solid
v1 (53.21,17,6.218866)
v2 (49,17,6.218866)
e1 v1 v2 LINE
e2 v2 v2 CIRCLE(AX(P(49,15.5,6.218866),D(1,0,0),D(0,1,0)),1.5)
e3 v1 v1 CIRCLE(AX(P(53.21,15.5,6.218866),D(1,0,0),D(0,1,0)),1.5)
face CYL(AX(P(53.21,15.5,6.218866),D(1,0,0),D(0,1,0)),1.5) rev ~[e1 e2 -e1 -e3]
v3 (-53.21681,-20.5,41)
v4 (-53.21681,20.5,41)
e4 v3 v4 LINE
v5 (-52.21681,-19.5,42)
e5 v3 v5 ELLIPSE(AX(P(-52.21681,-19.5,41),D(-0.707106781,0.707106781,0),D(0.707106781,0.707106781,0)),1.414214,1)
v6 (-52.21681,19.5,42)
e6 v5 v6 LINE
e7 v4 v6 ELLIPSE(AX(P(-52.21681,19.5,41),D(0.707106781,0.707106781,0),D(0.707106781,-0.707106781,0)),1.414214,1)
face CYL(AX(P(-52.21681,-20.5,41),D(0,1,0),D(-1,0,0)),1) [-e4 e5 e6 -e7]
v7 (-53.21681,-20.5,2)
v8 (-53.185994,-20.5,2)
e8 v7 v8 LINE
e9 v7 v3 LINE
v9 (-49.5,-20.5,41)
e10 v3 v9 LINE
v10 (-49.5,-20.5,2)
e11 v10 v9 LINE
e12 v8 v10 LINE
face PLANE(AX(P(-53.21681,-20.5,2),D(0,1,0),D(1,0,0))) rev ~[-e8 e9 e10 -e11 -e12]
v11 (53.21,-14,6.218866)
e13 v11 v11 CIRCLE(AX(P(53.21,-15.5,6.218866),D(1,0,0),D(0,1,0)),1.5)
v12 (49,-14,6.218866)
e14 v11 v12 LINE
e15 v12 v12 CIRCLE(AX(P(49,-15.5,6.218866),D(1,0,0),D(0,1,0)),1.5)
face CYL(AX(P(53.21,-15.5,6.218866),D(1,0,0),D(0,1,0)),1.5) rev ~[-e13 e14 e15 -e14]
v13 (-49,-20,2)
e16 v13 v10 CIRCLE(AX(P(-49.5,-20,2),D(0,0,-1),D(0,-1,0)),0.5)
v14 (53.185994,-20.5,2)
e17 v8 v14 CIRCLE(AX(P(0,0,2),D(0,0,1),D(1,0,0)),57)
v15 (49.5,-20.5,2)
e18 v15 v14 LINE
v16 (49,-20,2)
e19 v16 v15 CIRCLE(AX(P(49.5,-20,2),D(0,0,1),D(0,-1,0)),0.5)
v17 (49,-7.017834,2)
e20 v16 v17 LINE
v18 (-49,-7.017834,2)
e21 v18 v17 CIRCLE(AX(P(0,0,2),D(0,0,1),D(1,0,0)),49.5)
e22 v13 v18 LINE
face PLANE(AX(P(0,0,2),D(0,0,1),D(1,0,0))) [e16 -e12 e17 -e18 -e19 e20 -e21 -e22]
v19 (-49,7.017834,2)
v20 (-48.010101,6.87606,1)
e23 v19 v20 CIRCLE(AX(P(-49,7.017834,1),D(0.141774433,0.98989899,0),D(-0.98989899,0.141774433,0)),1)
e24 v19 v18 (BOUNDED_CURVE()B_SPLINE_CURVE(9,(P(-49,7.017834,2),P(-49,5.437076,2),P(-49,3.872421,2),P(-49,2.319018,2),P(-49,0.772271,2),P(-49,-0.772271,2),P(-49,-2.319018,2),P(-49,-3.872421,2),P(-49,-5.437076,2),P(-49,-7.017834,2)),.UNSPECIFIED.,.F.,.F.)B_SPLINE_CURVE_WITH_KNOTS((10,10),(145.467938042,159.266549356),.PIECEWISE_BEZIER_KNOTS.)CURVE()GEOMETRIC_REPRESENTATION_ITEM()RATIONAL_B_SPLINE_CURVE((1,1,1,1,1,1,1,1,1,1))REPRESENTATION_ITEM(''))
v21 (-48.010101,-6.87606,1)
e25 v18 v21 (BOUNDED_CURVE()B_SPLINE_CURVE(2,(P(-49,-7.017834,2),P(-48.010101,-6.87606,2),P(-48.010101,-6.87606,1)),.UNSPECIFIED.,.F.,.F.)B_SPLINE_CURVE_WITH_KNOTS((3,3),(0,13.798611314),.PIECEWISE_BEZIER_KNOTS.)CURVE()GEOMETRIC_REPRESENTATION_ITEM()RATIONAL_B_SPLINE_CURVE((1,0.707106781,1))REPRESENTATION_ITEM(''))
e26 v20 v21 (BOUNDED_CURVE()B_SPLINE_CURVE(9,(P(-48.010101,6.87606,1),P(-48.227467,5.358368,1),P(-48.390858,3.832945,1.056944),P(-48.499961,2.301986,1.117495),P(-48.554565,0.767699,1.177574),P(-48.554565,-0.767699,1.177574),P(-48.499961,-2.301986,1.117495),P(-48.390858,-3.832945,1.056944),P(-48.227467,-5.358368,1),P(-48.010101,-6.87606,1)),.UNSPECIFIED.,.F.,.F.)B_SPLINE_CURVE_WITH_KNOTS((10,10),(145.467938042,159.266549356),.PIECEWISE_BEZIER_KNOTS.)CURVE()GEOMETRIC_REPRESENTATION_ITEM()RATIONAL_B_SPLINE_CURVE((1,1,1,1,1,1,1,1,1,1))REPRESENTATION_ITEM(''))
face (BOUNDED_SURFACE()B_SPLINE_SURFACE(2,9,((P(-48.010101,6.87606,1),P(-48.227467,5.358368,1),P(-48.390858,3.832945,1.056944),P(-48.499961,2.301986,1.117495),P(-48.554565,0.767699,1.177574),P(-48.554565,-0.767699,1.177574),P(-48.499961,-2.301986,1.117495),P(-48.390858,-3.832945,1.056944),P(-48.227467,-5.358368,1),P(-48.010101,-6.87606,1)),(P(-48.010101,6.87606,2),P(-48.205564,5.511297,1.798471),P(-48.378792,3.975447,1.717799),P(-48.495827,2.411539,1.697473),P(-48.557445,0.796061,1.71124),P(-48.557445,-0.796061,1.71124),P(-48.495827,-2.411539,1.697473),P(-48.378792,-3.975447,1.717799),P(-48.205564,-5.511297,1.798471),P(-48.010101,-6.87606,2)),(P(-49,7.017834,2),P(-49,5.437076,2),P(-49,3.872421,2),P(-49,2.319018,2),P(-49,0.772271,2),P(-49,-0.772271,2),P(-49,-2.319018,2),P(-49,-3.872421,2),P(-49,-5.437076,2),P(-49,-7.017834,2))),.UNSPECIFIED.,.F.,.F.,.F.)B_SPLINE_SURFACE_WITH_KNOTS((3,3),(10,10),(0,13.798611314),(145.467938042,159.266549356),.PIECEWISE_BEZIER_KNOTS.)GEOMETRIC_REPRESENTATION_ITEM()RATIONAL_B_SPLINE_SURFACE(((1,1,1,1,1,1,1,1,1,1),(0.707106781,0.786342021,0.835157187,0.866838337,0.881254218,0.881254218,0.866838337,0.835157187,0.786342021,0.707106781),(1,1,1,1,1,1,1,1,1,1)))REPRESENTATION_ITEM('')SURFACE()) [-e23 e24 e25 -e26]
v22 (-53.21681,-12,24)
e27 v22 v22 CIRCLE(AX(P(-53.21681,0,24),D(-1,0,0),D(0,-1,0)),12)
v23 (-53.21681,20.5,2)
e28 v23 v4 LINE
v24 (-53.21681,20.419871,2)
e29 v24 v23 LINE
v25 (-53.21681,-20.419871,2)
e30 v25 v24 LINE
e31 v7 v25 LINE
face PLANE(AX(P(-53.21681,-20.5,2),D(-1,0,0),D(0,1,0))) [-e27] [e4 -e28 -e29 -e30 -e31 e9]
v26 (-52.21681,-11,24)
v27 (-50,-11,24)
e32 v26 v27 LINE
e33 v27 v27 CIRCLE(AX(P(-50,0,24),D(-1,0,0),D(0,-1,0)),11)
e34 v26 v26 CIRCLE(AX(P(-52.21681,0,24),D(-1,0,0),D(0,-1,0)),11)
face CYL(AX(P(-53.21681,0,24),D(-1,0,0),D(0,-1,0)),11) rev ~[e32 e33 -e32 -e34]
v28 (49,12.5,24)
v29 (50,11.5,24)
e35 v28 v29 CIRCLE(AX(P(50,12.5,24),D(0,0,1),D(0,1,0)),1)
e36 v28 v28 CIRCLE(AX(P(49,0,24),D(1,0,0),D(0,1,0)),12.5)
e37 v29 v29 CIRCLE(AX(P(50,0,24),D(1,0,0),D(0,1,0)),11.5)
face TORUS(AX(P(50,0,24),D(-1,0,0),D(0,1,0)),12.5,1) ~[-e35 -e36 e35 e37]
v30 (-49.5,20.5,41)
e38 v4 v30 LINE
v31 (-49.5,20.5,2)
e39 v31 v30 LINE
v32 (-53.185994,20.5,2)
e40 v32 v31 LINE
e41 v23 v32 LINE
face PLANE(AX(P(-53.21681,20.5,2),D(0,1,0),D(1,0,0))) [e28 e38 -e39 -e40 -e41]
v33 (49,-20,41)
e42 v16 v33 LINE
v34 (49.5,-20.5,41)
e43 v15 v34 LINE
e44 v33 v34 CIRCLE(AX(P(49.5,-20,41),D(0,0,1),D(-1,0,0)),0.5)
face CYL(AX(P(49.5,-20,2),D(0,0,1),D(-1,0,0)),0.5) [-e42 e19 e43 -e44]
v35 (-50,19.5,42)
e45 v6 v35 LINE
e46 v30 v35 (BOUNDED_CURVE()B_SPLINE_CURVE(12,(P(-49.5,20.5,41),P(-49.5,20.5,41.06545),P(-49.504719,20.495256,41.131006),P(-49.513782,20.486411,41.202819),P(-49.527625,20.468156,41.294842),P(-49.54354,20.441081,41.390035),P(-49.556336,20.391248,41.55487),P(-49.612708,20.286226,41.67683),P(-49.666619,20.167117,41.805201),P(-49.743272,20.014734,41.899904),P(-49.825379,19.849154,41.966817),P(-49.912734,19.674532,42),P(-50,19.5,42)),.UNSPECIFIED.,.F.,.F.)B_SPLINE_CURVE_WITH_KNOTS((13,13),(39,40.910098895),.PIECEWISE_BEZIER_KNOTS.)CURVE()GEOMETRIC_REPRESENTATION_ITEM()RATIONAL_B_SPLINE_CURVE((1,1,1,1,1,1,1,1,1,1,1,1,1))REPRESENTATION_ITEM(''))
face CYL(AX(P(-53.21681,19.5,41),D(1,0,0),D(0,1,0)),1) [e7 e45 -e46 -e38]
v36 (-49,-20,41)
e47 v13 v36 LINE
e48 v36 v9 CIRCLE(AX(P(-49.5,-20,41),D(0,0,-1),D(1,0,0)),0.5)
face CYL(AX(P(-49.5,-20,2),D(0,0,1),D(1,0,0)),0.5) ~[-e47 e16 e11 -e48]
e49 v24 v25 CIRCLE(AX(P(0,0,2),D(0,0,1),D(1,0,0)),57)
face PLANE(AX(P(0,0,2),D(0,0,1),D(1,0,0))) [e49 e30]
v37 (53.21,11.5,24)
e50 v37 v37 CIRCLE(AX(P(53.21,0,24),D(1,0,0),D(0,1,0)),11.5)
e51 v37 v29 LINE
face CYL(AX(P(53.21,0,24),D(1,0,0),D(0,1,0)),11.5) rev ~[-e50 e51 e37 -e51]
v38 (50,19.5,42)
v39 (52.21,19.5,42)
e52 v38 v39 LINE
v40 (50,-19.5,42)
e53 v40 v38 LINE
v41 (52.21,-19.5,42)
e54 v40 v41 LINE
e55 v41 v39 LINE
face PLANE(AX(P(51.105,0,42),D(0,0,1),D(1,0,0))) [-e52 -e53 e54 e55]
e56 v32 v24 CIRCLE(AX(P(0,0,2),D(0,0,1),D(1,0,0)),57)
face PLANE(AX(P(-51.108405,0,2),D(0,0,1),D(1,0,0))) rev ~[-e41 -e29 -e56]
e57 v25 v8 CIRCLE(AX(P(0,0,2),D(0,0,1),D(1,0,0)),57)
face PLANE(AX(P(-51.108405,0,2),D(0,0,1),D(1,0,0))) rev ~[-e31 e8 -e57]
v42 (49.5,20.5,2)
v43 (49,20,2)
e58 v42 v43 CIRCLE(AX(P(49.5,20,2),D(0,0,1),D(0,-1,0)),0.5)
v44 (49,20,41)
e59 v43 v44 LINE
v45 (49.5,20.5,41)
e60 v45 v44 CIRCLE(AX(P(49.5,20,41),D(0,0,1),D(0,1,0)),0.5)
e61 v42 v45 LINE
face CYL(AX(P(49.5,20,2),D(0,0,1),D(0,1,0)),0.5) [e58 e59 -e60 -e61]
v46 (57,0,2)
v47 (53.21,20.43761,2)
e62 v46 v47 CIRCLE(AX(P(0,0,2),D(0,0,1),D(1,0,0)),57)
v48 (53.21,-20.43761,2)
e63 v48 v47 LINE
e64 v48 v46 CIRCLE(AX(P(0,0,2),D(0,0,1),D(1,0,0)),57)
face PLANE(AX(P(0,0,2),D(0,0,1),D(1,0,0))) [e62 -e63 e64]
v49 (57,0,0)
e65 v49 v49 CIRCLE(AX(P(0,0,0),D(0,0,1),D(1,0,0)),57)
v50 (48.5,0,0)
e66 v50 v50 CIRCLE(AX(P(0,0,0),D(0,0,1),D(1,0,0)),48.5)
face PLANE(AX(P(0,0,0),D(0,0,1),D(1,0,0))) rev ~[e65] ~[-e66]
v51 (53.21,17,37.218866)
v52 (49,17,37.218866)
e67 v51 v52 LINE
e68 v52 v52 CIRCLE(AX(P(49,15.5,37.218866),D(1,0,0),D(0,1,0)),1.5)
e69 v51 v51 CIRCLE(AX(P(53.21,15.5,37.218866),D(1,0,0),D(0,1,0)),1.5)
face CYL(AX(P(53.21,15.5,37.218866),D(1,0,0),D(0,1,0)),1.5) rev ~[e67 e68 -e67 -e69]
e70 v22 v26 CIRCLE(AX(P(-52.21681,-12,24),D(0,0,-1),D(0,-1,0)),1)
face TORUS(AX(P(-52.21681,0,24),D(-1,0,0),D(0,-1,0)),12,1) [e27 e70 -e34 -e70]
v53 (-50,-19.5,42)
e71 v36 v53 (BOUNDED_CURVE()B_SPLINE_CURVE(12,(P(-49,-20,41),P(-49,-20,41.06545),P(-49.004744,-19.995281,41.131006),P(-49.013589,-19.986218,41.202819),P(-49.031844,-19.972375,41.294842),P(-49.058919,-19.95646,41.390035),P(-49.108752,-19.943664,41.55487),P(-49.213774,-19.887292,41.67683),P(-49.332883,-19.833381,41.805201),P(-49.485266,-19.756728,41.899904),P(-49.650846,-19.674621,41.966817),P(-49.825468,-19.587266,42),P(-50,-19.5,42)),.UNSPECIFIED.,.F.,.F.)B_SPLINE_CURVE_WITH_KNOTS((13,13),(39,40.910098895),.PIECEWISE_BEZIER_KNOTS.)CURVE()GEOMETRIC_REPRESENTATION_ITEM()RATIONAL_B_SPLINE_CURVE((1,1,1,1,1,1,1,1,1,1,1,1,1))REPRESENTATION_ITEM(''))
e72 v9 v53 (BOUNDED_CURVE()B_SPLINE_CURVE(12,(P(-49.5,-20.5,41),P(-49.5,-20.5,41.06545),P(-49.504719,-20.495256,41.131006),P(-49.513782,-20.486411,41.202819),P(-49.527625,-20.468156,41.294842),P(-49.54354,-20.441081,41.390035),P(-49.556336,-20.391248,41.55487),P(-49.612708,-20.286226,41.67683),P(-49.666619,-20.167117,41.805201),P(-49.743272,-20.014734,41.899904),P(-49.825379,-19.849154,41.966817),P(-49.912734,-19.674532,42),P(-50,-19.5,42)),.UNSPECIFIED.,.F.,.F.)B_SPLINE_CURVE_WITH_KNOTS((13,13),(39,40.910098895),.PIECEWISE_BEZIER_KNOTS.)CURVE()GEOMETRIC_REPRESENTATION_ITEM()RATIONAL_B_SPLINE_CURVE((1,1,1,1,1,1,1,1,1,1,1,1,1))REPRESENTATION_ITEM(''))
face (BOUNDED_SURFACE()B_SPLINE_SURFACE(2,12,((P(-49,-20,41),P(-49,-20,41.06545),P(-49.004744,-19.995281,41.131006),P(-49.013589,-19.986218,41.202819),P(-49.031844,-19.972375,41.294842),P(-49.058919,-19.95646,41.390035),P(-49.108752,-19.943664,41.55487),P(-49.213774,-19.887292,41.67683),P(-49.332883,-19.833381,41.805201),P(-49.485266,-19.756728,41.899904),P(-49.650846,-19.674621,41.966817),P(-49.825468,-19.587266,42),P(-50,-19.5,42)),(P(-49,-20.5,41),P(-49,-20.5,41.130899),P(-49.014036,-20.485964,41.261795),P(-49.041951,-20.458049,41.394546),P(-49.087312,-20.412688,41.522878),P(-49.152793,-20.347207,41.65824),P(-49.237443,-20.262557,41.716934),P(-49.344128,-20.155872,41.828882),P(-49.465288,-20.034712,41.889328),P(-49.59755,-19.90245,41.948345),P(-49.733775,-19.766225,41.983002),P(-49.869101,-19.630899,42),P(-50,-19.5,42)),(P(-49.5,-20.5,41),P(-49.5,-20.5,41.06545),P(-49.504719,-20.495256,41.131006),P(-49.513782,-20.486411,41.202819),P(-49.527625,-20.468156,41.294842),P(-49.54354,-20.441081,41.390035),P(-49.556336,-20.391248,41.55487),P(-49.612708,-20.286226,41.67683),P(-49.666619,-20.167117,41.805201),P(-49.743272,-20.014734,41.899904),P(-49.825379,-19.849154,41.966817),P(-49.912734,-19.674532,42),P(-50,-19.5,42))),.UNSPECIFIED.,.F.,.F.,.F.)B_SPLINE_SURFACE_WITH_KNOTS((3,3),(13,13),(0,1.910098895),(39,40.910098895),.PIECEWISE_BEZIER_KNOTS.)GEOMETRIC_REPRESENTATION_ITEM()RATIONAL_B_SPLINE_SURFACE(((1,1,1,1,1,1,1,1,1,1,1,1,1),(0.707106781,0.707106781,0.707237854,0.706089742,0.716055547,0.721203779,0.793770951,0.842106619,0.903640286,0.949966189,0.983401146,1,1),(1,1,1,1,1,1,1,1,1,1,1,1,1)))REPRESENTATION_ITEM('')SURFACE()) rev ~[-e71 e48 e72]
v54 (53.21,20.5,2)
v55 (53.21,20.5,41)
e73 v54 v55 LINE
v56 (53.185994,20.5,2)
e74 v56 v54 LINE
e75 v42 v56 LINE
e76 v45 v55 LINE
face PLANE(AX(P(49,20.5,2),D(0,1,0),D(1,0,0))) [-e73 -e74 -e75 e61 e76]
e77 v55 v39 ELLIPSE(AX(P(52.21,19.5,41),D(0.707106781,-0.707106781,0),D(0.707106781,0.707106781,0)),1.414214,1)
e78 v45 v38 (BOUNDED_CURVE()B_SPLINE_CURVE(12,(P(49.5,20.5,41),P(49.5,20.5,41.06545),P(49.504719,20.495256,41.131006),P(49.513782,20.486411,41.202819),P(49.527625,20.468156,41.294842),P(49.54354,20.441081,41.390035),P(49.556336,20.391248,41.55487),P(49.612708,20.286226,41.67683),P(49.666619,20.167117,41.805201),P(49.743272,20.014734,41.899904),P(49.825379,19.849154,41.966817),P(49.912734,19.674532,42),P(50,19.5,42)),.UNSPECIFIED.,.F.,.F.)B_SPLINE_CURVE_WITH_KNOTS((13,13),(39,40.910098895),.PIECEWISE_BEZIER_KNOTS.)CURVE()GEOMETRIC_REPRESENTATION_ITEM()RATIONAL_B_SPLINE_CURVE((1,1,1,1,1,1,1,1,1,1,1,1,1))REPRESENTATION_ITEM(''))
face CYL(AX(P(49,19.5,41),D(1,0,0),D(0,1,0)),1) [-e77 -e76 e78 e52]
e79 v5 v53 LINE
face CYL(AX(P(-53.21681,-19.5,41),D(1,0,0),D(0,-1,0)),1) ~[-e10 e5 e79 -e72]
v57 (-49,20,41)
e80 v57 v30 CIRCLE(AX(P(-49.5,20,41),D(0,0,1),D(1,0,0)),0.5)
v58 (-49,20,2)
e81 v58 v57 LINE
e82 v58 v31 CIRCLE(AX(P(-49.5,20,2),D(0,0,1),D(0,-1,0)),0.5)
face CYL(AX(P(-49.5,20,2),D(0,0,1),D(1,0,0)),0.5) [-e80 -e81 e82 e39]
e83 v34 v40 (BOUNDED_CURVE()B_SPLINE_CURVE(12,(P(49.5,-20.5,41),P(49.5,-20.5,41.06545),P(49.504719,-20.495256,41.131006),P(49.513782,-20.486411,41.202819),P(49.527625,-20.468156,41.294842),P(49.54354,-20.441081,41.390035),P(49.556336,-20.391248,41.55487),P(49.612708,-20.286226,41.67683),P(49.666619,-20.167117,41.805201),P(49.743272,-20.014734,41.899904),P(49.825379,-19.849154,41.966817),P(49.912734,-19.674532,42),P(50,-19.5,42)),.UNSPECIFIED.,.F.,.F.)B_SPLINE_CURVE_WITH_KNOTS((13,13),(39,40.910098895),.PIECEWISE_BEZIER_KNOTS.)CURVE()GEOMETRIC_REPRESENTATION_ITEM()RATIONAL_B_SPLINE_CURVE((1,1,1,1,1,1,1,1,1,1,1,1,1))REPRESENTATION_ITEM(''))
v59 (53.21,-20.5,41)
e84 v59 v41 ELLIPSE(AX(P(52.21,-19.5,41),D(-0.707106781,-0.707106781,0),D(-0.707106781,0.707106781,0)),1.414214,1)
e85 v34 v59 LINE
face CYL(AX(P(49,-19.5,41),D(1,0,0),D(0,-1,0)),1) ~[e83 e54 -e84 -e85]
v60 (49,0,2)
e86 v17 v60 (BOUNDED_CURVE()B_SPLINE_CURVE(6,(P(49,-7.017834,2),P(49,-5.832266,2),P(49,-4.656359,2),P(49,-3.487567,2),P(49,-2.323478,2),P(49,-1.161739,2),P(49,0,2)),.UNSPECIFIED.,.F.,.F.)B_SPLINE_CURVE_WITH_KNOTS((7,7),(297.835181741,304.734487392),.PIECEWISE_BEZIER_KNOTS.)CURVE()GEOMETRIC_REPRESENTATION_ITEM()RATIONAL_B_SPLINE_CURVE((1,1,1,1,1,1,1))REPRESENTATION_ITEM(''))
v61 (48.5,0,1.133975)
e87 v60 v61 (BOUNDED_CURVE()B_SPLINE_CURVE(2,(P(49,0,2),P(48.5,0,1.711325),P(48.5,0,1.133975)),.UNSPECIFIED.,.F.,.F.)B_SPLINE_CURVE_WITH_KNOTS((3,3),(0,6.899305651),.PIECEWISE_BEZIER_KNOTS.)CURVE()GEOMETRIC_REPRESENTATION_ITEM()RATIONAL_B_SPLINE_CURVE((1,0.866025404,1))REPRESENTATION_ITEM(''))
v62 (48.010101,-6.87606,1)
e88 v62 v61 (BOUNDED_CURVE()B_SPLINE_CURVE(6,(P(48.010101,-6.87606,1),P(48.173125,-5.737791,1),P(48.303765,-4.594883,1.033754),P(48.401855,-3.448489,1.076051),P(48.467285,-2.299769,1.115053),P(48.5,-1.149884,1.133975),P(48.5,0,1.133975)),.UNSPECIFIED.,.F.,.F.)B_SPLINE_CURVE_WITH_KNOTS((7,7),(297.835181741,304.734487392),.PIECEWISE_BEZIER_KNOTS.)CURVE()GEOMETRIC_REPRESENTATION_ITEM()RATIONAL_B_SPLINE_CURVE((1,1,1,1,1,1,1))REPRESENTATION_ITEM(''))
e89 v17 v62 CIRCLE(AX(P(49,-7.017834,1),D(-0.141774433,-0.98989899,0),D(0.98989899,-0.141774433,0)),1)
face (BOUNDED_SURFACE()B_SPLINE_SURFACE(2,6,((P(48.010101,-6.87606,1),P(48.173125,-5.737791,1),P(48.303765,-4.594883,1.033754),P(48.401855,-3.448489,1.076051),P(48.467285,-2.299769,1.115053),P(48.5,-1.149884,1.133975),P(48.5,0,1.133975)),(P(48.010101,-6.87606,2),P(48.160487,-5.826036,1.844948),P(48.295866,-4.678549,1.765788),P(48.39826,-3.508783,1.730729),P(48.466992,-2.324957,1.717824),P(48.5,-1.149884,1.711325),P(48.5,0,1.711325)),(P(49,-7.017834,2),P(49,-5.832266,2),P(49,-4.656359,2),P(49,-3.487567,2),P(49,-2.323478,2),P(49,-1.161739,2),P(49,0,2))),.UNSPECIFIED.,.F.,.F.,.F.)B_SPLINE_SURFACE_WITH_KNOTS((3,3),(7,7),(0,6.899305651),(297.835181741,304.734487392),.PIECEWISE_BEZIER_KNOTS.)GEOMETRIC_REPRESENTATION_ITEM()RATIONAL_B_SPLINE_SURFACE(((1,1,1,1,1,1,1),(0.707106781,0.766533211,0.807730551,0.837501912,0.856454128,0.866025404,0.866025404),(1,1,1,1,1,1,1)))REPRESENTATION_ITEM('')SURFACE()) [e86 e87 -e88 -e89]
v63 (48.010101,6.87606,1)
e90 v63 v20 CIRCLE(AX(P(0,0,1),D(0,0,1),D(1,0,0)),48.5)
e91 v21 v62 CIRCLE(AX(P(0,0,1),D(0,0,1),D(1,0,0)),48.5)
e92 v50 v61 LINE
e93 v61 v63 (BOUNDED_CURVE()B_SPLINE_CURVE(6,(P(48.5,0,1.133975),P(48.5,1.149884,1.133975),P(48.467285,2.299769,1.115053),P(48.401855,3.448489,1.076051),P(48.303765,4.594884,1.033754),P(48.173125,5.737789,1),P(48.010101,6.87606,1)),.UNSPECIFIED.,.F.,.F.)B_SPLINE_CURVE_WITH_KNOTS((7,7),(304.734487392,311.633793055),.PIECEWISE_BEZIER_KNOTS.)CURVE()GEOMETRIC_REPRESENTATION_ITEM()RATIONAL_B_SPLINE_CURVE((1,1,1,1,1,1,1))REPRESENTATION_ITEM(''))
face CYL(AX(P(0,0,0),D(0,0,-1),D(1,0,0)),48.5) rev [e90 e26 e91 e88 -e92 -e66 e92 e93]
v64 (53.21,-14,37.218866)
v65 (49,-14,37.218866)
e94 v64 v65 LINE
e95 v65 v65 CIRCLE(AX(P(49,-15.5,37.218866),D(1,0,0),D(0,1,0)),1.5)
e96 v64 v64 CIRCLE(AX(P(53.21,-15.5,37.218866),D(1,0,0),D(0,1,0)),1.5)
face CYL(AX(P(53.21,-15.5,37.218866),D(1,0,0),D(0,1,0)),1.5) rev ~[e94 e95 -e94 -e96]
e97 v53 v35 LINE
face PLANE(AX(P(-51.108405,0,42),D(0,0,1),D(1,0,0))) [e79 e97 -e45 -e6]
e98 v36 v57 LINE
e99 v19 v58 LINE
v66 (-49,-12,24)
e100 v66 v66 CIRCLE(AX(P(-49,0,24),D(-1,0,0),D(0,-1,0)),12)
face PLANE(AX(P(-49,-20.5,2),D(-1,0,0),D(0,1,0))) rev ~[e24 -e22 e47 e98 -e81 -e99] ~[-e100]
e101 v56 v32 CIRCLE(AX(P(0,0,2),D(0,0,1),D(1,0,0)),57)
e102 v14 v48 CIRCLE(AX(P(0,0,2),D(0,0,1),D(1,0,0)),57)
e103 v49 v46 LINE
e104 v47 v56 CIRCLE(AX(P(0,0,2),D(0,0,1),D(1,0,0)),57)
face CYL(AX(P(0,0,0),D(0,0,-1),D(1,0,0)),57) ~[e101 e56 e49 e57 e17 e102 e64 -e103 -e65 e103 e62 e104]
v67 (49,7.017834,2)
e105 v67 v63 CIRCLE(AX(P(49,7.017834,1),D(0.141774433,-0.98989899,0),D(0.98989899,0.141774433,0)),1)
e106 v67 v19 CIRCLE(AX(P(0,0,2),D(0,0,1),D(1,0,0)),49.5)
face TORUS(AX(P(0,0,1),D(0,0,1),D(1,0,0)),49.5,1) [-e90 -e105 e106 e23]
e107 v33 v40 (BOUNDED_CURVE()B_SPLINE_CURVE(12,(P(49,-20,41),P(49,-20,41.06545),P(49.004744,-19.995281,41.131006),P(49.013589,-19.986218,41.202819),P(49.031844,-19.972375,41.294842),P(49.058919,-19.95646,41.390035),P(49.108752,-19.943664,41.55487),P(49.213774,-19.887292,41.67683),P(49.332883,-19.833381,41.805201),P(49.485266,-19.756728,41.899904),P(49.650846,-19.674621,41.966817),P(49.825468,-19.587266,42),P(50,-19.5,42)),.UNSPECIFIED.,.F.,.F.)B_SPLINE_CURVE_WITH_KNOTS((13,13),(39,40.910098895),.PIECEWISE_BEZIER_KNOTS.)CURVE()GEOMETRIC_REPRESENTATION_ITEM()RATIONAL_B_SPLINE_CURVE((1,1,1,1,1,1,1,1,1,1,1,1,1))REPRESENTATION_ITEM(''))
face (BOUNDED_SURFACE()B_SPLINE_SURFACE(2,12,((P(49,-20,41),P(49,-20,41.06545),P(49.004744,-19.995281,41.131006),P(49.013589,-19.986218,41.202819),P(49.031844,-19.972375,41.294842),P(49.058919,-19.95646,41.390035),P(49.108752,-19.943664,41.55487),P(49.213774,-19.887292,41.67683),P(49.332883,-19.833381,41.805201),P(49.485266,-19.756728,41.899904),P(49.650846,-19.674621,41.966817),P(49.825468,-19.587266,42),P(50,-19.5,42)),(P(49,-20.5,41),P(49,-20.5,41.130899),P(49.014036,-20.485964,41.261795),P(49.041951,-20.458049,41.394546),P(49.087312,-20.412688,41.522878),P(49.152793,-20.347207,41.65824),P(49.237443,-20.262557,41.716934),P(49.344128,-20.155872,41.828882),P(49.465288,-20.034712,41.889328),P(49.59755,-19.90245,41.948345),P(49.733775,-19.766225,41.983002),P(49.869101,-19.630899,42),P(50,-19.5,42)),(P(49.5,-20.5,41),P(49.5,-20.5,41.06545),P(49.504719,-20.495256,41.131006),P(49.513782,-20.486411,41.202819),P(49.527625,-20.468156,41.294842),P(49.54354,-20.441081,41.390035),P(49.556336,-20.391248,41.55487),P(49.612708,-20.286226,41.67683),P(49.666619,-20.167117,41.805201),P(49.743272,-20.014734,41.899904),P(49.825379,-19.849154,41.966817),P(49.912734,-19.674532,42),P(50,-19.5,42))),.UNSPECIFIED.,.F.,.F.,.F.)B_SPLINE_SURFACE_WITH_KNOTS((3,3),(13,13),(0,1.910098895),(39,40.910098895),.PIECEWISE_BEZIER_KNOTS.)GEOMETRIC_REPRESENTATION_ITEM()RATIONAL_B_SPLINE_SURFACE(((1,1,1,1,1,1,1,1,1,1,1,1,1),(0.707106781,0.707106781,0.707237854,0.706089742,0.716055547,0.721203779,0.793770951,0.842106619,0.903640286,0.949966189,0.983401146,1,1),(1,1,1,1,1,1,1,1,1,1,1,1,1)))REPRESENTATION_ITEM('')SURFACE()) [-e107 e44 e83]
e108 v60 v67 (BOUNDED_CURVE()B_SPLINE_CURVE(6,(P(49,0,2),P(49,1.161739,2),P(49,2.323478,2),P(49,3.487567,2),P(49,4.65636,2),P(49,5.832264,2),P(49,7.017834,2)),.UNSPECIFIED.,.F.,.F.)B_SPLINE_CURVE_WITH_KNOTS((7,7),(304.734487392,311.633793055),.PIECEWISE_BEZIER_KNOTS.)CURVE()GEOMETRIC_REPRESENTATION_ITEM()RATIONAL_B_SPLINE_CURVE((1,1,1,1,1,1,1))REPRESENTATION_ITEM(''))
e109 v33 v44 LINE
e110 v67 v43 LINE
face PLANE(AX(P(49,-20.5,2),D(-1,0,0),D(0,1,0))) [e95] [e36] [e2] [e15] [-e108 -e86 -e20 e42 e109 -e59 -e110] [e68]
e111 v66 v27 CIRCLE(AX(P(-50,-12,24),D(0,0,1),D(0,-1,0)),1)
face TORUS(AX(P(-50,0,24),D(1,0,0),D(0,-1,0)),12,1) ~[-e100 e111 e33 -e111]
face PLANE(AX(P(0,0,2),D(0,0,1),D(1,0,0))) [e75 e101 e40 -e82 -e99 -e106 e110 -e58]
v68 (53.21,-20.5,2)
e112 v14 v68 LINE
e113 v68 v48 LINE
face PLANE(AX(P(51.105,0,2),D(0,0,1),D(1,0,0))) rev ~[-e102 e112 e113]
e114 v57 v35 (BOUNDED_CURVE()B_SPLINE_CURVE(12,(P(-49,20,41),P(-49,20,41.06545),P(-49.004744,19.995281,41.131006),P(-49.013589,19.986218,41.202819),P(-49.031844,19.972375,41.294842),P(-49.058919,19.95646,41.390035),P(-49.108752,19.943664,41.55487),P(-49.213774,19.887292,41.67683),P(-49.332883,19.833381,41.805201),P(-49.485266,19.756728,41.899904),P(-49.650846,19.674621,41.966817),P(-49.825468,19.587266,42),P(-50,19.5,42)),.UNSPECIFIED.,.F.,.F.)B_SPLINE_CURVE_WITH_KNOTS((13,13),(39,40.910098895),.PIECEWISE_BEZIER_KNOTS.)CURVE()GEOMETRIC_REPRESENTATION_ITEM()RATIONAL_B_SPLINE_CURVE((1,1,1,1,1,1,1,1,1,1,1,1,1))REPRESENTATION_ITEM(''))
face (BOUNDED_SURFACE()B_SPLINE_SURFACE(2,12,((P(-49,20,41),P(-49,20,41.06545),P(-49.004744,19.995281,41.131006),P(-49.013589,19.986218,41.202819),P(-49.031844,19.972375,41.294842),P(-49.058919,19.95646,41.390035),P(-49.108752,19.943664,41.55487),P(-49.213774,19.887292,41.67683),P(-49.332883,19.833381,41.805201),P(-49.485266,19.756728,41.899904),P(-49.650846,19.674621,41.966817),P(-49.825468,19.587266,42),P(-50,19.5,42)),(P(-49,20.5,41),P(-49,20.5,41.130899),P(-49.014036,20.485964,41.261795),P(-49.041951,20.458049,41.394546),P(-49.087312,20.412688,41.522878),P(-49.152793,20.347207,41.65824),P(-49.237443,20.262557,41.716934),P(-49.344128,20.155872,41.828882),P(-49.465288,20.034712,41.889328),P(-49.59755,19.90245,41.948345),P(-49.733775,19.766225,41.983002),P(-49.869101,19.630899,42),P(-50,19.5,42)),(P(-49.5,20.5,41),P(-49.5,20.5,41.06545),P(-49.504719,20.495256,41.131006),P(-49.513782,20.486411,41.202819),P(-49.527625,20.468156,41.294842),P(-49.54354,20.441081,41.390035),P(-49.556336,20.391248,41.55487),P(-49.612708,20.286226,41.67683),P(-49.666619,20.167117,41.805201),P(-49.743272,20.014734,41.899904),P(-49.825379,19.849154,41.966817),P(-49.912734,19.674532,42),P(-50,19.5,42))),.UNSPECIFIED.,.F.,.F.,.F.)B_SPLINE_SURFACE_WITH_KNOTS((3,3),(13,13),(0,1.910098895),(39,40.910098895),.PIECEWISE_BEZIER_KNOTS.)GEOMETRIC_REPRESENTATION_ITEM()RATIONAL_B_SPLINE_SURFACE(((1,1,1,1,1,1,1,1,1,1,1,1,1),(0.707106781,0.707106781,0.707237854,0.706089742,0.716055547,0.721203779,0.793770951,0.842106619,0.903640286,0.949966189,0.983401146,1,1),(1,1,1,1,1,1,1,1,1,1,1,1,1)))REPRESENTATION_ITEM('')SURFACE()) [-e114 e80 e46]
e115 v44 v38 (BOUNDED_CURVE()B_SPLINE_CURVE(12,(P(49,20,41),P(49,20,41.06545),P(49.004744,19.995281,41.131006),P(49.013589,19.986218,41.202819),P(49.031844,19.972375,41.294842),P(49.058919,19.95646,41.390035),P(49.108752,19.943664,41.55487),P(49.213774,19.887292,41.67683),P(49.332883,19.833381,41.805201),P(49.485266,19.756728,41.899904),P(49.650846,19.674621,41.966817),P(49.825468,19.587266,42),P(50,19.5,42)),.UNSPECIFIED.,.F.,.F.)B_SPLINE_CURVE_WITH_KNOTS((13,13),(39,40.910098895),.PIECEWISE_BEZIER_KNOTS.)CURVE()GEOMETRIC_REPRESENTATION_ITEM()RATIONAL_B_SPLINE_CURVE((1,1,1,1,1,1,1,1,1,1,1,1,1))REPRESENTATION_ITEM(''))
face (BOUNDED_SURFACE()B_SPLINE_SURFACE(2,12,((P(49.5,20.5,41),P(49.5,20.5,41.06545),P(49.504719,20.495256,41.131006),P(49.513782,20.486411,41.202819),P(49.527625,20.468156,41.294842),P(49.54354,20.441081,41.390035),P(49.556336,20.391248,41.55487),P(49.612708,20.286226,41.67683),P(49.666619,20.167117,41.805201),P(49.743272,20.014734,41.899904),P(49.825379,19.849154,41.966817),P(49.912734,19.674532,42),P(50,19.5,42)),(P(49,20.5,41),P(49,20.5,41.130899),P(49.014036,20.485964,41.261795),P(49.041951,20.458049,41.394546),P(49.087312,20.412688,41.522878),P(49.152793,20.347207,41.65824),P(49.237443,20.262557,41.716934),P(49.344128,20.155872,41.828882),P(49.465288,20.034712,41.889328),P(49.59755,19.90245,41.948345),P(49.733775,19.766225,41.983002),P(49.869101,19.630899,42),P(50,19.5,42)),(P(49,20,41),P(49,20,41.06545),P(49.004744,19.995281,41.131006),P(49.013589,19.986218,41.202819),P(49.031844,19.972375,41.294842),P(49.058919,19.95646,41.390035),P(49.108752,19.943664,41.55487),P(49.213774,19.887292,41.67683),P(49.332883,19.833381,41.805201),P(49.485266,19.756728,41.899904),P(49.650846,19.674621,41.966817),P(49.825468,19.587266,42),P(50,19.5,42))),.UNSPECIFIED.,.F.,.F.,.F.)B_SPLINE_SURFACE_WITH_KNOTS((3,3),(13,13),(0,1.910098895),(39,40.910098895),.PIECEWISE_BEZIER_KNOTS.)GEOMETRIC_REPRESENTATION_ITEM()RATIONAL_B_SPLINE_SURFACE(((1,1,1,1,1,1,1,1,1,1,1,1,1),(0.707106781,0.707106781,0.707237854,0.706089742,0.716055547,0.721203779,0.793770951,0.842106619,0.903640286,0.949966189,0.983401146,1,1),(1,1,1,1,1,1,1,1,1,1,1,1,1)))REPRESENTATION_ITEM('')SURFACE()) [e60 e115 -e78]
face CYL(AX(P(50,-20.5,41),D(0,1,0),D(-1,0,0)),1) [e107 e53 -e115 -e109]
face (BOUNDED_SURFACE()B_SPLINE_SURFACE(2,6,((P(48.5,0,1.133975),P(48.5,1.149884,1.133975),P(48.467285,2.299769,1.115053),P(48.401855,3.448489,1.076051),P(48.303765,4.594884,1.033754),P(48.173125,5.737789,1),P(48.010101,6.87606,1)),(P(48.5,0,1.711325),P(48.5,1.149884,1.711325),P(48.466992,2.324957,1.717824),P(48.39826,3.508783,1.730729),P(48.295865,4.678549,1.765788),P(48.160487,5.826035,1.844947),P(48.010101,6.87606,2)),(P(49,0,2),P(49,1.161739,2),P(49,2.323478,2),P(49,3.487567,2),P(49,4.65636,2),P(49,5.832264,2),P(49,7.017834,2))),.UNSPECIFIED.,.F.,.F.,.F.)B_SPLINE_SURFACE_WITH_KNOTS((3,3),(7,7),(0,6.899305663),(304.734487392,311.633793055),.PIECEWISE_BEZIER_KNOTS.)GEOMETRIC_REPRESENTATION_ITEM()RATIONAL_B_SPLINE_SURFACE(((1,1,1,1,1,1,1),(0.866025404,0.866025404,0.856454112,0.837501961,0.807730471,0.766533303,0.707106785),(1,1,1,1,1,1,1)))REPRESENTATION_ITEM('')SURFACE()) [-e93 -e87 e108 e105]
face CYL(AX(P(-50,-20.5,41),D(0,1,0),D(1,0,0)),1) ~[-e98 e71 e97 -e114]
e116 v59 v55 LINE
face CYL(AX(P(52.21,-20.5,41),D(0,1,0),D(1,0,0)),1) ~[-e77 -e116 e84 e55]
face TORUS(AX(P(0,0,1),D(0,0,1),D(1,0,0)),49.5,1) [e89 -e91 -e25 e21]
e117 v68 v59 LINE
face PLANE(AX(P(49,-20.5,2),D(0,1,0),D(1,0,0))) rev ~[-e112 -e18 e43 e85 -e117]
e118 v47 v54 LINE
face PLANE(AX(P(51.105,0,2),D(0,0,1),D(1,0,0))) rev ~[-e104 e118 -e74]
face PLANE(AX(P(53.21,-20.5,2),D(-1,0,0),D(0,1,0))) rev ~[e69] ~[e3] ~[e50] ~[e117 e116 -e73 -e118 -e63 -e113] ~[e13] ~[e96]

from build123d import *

# Parameters (mm, degrees)
SKETCH_R        = 57
SKETCH_R_2      = 48.5
PAD_DEPTH       = 2
SKETCH001_W     = 4.21681
SKETCH001_H     = 41
SKETCH001_W_2   = 4.21
PAD001_DEPTH    = 40
SKETCH002_R     = 1.5
SKETCH002_R_2   = 11.5
POCKET_DEPTH    = 5
SKETCH003_R     = 11
POCKET001_DEPTH = 5
FILLET_R        = 1
FILLET001_R     = 1
FILLET002_R     = 0.5
FILLET003_R     = 0.5
FILLET004_R     = 0.5
FILLET005_R     = 1
FILLET006_R     = 1
FILLET007_R     = 1
FILLET008_R     = 1


with BuildPart() as part:
    # Sketch → Pad (new body)
    with BuildSketch(Plane.XY):
        Circle(SKETCH_R)
        Circle(SKETCH_R_2, mode=Mode.SUBTRACT)
    extrude(amount=PAD_DEPTH)

    # Sketch001 → Pad001 (new body)
    with BuildSketch(Plane.XY.offset(2)):
        with Locations((-51.108405, 0)):
            Rectangle(SKETCH001_W, SKETCH001_H)
        with Locations((51.105, 0)):
            Rectangle(SKETCH001_W_2, SKETCH001_H)
    extrude(amount=PAD001_DEPTH)

    # Sketch002 → Pocket (cut)
    with BuildSketch(Plane.YZ.offset(53.21)):
        with Locations((-15.5, 6.218866)):
            Circle(SKETCH002_R)
        with Locations((-15.5, 37.218866)):
            Circle(SKETCH002_R)
        with Locations((15.5, 37.218866)):
            Circle(SKETCH002_R)
        with Locations((15.5, 6.218866)):
            Circle(SKETCH002_R)
        with Locations((0, 24)):
            Circle(SKETCH002_R_2)
    extrude(amount=-POCKET_DEPTH, mode=Mode.SUBTRACT)

    # Sketch003 → Pocket001 (cut)
    with BuildSketch(Plane(origin=(-53.21681, 0, 0), x_dir=(0, -1, 0), z_dir=(-1, 0, 0))):
        with Locations((0, 24)):
            Circle(SKETCH003_R)
    extrude(amount=-POCKET001_DEPTH, mode=Mode.SUBTRACT)

    # Fillet
    fillet_edges = [part.edges().sort_by_distance(p)[0] for p in [
        (51.105, 20.5, 42),
        (53.21, 0, 42),
        (51.105, -20.5, 42),
        (49, 0, 42),
    ]]
    fillet(fillet_edges, radius=FILLET_R)

    # Fillet001
    fillet001_edges = [part.edges().sort_by_distance(p)[0] for p in [
        (-51.108405, 20.5, 42),
        (-49, 0, 42),
        (-51.108405, -20.5, 42),
        (-53.21681, 0, 42),
    ]]
    fillet(fillet001_edges, radius=FILLET001_R)

    # Fillet002
    fillet002_edges = [part.edges().sort_by_distance(p)[0] for p in [
        (-49, 20.5, 21.5),
    ]]
    fillet(fillet002_edges, radius=FILLET002_R)

    # Fillet003
    fillet003_edges = [part.edges().sort_by_distance(p)[0] for p in [
        (49, 20.5, 21.5),
    ]]
    fillet(fillet003_edges, radius=FILLET003_R)

    # Fillet004
    fillet004_edges = [part.edges().sort_by_distance(p)[0] for p in [
        (-49, -20.5, 21.5),
        (49, -20.5, 21.5),
    ]]
    fillet(fillet004_edges, radius=FILLET004_R)

    # Fillet005
    fillet005_edges = [part.edges().sort_by_distance(p)[0] for p in [
        (-49, 11, 24),
    ]]
    fillet(fillet005_edges, radius=FILLET005_R)

    # Fillet006
    fillet006_edges = [part.edges().sort_by_distance(p)[0] for p in [
        (49, -11.5, 24),
    ]]
    fillet(fillet006_edges, radius=FILLET006_R)

    # Fillet007
    fillet007_edges = [part.edges().sort_by_distance(p)[0] for p in [
        (-53.21681, 11, 24),
    ]]
    fillet(fillet007_edges, radius=FILLET007_R)

    # Fillet008
    fillet008_edges = [part.edges().sort_by_distance(p)[0] for p in [
        (-48.5, 0, 2),
    ]]
    fillet(fillet008_edges, radius=FILLET008_R)


solid = part.part
